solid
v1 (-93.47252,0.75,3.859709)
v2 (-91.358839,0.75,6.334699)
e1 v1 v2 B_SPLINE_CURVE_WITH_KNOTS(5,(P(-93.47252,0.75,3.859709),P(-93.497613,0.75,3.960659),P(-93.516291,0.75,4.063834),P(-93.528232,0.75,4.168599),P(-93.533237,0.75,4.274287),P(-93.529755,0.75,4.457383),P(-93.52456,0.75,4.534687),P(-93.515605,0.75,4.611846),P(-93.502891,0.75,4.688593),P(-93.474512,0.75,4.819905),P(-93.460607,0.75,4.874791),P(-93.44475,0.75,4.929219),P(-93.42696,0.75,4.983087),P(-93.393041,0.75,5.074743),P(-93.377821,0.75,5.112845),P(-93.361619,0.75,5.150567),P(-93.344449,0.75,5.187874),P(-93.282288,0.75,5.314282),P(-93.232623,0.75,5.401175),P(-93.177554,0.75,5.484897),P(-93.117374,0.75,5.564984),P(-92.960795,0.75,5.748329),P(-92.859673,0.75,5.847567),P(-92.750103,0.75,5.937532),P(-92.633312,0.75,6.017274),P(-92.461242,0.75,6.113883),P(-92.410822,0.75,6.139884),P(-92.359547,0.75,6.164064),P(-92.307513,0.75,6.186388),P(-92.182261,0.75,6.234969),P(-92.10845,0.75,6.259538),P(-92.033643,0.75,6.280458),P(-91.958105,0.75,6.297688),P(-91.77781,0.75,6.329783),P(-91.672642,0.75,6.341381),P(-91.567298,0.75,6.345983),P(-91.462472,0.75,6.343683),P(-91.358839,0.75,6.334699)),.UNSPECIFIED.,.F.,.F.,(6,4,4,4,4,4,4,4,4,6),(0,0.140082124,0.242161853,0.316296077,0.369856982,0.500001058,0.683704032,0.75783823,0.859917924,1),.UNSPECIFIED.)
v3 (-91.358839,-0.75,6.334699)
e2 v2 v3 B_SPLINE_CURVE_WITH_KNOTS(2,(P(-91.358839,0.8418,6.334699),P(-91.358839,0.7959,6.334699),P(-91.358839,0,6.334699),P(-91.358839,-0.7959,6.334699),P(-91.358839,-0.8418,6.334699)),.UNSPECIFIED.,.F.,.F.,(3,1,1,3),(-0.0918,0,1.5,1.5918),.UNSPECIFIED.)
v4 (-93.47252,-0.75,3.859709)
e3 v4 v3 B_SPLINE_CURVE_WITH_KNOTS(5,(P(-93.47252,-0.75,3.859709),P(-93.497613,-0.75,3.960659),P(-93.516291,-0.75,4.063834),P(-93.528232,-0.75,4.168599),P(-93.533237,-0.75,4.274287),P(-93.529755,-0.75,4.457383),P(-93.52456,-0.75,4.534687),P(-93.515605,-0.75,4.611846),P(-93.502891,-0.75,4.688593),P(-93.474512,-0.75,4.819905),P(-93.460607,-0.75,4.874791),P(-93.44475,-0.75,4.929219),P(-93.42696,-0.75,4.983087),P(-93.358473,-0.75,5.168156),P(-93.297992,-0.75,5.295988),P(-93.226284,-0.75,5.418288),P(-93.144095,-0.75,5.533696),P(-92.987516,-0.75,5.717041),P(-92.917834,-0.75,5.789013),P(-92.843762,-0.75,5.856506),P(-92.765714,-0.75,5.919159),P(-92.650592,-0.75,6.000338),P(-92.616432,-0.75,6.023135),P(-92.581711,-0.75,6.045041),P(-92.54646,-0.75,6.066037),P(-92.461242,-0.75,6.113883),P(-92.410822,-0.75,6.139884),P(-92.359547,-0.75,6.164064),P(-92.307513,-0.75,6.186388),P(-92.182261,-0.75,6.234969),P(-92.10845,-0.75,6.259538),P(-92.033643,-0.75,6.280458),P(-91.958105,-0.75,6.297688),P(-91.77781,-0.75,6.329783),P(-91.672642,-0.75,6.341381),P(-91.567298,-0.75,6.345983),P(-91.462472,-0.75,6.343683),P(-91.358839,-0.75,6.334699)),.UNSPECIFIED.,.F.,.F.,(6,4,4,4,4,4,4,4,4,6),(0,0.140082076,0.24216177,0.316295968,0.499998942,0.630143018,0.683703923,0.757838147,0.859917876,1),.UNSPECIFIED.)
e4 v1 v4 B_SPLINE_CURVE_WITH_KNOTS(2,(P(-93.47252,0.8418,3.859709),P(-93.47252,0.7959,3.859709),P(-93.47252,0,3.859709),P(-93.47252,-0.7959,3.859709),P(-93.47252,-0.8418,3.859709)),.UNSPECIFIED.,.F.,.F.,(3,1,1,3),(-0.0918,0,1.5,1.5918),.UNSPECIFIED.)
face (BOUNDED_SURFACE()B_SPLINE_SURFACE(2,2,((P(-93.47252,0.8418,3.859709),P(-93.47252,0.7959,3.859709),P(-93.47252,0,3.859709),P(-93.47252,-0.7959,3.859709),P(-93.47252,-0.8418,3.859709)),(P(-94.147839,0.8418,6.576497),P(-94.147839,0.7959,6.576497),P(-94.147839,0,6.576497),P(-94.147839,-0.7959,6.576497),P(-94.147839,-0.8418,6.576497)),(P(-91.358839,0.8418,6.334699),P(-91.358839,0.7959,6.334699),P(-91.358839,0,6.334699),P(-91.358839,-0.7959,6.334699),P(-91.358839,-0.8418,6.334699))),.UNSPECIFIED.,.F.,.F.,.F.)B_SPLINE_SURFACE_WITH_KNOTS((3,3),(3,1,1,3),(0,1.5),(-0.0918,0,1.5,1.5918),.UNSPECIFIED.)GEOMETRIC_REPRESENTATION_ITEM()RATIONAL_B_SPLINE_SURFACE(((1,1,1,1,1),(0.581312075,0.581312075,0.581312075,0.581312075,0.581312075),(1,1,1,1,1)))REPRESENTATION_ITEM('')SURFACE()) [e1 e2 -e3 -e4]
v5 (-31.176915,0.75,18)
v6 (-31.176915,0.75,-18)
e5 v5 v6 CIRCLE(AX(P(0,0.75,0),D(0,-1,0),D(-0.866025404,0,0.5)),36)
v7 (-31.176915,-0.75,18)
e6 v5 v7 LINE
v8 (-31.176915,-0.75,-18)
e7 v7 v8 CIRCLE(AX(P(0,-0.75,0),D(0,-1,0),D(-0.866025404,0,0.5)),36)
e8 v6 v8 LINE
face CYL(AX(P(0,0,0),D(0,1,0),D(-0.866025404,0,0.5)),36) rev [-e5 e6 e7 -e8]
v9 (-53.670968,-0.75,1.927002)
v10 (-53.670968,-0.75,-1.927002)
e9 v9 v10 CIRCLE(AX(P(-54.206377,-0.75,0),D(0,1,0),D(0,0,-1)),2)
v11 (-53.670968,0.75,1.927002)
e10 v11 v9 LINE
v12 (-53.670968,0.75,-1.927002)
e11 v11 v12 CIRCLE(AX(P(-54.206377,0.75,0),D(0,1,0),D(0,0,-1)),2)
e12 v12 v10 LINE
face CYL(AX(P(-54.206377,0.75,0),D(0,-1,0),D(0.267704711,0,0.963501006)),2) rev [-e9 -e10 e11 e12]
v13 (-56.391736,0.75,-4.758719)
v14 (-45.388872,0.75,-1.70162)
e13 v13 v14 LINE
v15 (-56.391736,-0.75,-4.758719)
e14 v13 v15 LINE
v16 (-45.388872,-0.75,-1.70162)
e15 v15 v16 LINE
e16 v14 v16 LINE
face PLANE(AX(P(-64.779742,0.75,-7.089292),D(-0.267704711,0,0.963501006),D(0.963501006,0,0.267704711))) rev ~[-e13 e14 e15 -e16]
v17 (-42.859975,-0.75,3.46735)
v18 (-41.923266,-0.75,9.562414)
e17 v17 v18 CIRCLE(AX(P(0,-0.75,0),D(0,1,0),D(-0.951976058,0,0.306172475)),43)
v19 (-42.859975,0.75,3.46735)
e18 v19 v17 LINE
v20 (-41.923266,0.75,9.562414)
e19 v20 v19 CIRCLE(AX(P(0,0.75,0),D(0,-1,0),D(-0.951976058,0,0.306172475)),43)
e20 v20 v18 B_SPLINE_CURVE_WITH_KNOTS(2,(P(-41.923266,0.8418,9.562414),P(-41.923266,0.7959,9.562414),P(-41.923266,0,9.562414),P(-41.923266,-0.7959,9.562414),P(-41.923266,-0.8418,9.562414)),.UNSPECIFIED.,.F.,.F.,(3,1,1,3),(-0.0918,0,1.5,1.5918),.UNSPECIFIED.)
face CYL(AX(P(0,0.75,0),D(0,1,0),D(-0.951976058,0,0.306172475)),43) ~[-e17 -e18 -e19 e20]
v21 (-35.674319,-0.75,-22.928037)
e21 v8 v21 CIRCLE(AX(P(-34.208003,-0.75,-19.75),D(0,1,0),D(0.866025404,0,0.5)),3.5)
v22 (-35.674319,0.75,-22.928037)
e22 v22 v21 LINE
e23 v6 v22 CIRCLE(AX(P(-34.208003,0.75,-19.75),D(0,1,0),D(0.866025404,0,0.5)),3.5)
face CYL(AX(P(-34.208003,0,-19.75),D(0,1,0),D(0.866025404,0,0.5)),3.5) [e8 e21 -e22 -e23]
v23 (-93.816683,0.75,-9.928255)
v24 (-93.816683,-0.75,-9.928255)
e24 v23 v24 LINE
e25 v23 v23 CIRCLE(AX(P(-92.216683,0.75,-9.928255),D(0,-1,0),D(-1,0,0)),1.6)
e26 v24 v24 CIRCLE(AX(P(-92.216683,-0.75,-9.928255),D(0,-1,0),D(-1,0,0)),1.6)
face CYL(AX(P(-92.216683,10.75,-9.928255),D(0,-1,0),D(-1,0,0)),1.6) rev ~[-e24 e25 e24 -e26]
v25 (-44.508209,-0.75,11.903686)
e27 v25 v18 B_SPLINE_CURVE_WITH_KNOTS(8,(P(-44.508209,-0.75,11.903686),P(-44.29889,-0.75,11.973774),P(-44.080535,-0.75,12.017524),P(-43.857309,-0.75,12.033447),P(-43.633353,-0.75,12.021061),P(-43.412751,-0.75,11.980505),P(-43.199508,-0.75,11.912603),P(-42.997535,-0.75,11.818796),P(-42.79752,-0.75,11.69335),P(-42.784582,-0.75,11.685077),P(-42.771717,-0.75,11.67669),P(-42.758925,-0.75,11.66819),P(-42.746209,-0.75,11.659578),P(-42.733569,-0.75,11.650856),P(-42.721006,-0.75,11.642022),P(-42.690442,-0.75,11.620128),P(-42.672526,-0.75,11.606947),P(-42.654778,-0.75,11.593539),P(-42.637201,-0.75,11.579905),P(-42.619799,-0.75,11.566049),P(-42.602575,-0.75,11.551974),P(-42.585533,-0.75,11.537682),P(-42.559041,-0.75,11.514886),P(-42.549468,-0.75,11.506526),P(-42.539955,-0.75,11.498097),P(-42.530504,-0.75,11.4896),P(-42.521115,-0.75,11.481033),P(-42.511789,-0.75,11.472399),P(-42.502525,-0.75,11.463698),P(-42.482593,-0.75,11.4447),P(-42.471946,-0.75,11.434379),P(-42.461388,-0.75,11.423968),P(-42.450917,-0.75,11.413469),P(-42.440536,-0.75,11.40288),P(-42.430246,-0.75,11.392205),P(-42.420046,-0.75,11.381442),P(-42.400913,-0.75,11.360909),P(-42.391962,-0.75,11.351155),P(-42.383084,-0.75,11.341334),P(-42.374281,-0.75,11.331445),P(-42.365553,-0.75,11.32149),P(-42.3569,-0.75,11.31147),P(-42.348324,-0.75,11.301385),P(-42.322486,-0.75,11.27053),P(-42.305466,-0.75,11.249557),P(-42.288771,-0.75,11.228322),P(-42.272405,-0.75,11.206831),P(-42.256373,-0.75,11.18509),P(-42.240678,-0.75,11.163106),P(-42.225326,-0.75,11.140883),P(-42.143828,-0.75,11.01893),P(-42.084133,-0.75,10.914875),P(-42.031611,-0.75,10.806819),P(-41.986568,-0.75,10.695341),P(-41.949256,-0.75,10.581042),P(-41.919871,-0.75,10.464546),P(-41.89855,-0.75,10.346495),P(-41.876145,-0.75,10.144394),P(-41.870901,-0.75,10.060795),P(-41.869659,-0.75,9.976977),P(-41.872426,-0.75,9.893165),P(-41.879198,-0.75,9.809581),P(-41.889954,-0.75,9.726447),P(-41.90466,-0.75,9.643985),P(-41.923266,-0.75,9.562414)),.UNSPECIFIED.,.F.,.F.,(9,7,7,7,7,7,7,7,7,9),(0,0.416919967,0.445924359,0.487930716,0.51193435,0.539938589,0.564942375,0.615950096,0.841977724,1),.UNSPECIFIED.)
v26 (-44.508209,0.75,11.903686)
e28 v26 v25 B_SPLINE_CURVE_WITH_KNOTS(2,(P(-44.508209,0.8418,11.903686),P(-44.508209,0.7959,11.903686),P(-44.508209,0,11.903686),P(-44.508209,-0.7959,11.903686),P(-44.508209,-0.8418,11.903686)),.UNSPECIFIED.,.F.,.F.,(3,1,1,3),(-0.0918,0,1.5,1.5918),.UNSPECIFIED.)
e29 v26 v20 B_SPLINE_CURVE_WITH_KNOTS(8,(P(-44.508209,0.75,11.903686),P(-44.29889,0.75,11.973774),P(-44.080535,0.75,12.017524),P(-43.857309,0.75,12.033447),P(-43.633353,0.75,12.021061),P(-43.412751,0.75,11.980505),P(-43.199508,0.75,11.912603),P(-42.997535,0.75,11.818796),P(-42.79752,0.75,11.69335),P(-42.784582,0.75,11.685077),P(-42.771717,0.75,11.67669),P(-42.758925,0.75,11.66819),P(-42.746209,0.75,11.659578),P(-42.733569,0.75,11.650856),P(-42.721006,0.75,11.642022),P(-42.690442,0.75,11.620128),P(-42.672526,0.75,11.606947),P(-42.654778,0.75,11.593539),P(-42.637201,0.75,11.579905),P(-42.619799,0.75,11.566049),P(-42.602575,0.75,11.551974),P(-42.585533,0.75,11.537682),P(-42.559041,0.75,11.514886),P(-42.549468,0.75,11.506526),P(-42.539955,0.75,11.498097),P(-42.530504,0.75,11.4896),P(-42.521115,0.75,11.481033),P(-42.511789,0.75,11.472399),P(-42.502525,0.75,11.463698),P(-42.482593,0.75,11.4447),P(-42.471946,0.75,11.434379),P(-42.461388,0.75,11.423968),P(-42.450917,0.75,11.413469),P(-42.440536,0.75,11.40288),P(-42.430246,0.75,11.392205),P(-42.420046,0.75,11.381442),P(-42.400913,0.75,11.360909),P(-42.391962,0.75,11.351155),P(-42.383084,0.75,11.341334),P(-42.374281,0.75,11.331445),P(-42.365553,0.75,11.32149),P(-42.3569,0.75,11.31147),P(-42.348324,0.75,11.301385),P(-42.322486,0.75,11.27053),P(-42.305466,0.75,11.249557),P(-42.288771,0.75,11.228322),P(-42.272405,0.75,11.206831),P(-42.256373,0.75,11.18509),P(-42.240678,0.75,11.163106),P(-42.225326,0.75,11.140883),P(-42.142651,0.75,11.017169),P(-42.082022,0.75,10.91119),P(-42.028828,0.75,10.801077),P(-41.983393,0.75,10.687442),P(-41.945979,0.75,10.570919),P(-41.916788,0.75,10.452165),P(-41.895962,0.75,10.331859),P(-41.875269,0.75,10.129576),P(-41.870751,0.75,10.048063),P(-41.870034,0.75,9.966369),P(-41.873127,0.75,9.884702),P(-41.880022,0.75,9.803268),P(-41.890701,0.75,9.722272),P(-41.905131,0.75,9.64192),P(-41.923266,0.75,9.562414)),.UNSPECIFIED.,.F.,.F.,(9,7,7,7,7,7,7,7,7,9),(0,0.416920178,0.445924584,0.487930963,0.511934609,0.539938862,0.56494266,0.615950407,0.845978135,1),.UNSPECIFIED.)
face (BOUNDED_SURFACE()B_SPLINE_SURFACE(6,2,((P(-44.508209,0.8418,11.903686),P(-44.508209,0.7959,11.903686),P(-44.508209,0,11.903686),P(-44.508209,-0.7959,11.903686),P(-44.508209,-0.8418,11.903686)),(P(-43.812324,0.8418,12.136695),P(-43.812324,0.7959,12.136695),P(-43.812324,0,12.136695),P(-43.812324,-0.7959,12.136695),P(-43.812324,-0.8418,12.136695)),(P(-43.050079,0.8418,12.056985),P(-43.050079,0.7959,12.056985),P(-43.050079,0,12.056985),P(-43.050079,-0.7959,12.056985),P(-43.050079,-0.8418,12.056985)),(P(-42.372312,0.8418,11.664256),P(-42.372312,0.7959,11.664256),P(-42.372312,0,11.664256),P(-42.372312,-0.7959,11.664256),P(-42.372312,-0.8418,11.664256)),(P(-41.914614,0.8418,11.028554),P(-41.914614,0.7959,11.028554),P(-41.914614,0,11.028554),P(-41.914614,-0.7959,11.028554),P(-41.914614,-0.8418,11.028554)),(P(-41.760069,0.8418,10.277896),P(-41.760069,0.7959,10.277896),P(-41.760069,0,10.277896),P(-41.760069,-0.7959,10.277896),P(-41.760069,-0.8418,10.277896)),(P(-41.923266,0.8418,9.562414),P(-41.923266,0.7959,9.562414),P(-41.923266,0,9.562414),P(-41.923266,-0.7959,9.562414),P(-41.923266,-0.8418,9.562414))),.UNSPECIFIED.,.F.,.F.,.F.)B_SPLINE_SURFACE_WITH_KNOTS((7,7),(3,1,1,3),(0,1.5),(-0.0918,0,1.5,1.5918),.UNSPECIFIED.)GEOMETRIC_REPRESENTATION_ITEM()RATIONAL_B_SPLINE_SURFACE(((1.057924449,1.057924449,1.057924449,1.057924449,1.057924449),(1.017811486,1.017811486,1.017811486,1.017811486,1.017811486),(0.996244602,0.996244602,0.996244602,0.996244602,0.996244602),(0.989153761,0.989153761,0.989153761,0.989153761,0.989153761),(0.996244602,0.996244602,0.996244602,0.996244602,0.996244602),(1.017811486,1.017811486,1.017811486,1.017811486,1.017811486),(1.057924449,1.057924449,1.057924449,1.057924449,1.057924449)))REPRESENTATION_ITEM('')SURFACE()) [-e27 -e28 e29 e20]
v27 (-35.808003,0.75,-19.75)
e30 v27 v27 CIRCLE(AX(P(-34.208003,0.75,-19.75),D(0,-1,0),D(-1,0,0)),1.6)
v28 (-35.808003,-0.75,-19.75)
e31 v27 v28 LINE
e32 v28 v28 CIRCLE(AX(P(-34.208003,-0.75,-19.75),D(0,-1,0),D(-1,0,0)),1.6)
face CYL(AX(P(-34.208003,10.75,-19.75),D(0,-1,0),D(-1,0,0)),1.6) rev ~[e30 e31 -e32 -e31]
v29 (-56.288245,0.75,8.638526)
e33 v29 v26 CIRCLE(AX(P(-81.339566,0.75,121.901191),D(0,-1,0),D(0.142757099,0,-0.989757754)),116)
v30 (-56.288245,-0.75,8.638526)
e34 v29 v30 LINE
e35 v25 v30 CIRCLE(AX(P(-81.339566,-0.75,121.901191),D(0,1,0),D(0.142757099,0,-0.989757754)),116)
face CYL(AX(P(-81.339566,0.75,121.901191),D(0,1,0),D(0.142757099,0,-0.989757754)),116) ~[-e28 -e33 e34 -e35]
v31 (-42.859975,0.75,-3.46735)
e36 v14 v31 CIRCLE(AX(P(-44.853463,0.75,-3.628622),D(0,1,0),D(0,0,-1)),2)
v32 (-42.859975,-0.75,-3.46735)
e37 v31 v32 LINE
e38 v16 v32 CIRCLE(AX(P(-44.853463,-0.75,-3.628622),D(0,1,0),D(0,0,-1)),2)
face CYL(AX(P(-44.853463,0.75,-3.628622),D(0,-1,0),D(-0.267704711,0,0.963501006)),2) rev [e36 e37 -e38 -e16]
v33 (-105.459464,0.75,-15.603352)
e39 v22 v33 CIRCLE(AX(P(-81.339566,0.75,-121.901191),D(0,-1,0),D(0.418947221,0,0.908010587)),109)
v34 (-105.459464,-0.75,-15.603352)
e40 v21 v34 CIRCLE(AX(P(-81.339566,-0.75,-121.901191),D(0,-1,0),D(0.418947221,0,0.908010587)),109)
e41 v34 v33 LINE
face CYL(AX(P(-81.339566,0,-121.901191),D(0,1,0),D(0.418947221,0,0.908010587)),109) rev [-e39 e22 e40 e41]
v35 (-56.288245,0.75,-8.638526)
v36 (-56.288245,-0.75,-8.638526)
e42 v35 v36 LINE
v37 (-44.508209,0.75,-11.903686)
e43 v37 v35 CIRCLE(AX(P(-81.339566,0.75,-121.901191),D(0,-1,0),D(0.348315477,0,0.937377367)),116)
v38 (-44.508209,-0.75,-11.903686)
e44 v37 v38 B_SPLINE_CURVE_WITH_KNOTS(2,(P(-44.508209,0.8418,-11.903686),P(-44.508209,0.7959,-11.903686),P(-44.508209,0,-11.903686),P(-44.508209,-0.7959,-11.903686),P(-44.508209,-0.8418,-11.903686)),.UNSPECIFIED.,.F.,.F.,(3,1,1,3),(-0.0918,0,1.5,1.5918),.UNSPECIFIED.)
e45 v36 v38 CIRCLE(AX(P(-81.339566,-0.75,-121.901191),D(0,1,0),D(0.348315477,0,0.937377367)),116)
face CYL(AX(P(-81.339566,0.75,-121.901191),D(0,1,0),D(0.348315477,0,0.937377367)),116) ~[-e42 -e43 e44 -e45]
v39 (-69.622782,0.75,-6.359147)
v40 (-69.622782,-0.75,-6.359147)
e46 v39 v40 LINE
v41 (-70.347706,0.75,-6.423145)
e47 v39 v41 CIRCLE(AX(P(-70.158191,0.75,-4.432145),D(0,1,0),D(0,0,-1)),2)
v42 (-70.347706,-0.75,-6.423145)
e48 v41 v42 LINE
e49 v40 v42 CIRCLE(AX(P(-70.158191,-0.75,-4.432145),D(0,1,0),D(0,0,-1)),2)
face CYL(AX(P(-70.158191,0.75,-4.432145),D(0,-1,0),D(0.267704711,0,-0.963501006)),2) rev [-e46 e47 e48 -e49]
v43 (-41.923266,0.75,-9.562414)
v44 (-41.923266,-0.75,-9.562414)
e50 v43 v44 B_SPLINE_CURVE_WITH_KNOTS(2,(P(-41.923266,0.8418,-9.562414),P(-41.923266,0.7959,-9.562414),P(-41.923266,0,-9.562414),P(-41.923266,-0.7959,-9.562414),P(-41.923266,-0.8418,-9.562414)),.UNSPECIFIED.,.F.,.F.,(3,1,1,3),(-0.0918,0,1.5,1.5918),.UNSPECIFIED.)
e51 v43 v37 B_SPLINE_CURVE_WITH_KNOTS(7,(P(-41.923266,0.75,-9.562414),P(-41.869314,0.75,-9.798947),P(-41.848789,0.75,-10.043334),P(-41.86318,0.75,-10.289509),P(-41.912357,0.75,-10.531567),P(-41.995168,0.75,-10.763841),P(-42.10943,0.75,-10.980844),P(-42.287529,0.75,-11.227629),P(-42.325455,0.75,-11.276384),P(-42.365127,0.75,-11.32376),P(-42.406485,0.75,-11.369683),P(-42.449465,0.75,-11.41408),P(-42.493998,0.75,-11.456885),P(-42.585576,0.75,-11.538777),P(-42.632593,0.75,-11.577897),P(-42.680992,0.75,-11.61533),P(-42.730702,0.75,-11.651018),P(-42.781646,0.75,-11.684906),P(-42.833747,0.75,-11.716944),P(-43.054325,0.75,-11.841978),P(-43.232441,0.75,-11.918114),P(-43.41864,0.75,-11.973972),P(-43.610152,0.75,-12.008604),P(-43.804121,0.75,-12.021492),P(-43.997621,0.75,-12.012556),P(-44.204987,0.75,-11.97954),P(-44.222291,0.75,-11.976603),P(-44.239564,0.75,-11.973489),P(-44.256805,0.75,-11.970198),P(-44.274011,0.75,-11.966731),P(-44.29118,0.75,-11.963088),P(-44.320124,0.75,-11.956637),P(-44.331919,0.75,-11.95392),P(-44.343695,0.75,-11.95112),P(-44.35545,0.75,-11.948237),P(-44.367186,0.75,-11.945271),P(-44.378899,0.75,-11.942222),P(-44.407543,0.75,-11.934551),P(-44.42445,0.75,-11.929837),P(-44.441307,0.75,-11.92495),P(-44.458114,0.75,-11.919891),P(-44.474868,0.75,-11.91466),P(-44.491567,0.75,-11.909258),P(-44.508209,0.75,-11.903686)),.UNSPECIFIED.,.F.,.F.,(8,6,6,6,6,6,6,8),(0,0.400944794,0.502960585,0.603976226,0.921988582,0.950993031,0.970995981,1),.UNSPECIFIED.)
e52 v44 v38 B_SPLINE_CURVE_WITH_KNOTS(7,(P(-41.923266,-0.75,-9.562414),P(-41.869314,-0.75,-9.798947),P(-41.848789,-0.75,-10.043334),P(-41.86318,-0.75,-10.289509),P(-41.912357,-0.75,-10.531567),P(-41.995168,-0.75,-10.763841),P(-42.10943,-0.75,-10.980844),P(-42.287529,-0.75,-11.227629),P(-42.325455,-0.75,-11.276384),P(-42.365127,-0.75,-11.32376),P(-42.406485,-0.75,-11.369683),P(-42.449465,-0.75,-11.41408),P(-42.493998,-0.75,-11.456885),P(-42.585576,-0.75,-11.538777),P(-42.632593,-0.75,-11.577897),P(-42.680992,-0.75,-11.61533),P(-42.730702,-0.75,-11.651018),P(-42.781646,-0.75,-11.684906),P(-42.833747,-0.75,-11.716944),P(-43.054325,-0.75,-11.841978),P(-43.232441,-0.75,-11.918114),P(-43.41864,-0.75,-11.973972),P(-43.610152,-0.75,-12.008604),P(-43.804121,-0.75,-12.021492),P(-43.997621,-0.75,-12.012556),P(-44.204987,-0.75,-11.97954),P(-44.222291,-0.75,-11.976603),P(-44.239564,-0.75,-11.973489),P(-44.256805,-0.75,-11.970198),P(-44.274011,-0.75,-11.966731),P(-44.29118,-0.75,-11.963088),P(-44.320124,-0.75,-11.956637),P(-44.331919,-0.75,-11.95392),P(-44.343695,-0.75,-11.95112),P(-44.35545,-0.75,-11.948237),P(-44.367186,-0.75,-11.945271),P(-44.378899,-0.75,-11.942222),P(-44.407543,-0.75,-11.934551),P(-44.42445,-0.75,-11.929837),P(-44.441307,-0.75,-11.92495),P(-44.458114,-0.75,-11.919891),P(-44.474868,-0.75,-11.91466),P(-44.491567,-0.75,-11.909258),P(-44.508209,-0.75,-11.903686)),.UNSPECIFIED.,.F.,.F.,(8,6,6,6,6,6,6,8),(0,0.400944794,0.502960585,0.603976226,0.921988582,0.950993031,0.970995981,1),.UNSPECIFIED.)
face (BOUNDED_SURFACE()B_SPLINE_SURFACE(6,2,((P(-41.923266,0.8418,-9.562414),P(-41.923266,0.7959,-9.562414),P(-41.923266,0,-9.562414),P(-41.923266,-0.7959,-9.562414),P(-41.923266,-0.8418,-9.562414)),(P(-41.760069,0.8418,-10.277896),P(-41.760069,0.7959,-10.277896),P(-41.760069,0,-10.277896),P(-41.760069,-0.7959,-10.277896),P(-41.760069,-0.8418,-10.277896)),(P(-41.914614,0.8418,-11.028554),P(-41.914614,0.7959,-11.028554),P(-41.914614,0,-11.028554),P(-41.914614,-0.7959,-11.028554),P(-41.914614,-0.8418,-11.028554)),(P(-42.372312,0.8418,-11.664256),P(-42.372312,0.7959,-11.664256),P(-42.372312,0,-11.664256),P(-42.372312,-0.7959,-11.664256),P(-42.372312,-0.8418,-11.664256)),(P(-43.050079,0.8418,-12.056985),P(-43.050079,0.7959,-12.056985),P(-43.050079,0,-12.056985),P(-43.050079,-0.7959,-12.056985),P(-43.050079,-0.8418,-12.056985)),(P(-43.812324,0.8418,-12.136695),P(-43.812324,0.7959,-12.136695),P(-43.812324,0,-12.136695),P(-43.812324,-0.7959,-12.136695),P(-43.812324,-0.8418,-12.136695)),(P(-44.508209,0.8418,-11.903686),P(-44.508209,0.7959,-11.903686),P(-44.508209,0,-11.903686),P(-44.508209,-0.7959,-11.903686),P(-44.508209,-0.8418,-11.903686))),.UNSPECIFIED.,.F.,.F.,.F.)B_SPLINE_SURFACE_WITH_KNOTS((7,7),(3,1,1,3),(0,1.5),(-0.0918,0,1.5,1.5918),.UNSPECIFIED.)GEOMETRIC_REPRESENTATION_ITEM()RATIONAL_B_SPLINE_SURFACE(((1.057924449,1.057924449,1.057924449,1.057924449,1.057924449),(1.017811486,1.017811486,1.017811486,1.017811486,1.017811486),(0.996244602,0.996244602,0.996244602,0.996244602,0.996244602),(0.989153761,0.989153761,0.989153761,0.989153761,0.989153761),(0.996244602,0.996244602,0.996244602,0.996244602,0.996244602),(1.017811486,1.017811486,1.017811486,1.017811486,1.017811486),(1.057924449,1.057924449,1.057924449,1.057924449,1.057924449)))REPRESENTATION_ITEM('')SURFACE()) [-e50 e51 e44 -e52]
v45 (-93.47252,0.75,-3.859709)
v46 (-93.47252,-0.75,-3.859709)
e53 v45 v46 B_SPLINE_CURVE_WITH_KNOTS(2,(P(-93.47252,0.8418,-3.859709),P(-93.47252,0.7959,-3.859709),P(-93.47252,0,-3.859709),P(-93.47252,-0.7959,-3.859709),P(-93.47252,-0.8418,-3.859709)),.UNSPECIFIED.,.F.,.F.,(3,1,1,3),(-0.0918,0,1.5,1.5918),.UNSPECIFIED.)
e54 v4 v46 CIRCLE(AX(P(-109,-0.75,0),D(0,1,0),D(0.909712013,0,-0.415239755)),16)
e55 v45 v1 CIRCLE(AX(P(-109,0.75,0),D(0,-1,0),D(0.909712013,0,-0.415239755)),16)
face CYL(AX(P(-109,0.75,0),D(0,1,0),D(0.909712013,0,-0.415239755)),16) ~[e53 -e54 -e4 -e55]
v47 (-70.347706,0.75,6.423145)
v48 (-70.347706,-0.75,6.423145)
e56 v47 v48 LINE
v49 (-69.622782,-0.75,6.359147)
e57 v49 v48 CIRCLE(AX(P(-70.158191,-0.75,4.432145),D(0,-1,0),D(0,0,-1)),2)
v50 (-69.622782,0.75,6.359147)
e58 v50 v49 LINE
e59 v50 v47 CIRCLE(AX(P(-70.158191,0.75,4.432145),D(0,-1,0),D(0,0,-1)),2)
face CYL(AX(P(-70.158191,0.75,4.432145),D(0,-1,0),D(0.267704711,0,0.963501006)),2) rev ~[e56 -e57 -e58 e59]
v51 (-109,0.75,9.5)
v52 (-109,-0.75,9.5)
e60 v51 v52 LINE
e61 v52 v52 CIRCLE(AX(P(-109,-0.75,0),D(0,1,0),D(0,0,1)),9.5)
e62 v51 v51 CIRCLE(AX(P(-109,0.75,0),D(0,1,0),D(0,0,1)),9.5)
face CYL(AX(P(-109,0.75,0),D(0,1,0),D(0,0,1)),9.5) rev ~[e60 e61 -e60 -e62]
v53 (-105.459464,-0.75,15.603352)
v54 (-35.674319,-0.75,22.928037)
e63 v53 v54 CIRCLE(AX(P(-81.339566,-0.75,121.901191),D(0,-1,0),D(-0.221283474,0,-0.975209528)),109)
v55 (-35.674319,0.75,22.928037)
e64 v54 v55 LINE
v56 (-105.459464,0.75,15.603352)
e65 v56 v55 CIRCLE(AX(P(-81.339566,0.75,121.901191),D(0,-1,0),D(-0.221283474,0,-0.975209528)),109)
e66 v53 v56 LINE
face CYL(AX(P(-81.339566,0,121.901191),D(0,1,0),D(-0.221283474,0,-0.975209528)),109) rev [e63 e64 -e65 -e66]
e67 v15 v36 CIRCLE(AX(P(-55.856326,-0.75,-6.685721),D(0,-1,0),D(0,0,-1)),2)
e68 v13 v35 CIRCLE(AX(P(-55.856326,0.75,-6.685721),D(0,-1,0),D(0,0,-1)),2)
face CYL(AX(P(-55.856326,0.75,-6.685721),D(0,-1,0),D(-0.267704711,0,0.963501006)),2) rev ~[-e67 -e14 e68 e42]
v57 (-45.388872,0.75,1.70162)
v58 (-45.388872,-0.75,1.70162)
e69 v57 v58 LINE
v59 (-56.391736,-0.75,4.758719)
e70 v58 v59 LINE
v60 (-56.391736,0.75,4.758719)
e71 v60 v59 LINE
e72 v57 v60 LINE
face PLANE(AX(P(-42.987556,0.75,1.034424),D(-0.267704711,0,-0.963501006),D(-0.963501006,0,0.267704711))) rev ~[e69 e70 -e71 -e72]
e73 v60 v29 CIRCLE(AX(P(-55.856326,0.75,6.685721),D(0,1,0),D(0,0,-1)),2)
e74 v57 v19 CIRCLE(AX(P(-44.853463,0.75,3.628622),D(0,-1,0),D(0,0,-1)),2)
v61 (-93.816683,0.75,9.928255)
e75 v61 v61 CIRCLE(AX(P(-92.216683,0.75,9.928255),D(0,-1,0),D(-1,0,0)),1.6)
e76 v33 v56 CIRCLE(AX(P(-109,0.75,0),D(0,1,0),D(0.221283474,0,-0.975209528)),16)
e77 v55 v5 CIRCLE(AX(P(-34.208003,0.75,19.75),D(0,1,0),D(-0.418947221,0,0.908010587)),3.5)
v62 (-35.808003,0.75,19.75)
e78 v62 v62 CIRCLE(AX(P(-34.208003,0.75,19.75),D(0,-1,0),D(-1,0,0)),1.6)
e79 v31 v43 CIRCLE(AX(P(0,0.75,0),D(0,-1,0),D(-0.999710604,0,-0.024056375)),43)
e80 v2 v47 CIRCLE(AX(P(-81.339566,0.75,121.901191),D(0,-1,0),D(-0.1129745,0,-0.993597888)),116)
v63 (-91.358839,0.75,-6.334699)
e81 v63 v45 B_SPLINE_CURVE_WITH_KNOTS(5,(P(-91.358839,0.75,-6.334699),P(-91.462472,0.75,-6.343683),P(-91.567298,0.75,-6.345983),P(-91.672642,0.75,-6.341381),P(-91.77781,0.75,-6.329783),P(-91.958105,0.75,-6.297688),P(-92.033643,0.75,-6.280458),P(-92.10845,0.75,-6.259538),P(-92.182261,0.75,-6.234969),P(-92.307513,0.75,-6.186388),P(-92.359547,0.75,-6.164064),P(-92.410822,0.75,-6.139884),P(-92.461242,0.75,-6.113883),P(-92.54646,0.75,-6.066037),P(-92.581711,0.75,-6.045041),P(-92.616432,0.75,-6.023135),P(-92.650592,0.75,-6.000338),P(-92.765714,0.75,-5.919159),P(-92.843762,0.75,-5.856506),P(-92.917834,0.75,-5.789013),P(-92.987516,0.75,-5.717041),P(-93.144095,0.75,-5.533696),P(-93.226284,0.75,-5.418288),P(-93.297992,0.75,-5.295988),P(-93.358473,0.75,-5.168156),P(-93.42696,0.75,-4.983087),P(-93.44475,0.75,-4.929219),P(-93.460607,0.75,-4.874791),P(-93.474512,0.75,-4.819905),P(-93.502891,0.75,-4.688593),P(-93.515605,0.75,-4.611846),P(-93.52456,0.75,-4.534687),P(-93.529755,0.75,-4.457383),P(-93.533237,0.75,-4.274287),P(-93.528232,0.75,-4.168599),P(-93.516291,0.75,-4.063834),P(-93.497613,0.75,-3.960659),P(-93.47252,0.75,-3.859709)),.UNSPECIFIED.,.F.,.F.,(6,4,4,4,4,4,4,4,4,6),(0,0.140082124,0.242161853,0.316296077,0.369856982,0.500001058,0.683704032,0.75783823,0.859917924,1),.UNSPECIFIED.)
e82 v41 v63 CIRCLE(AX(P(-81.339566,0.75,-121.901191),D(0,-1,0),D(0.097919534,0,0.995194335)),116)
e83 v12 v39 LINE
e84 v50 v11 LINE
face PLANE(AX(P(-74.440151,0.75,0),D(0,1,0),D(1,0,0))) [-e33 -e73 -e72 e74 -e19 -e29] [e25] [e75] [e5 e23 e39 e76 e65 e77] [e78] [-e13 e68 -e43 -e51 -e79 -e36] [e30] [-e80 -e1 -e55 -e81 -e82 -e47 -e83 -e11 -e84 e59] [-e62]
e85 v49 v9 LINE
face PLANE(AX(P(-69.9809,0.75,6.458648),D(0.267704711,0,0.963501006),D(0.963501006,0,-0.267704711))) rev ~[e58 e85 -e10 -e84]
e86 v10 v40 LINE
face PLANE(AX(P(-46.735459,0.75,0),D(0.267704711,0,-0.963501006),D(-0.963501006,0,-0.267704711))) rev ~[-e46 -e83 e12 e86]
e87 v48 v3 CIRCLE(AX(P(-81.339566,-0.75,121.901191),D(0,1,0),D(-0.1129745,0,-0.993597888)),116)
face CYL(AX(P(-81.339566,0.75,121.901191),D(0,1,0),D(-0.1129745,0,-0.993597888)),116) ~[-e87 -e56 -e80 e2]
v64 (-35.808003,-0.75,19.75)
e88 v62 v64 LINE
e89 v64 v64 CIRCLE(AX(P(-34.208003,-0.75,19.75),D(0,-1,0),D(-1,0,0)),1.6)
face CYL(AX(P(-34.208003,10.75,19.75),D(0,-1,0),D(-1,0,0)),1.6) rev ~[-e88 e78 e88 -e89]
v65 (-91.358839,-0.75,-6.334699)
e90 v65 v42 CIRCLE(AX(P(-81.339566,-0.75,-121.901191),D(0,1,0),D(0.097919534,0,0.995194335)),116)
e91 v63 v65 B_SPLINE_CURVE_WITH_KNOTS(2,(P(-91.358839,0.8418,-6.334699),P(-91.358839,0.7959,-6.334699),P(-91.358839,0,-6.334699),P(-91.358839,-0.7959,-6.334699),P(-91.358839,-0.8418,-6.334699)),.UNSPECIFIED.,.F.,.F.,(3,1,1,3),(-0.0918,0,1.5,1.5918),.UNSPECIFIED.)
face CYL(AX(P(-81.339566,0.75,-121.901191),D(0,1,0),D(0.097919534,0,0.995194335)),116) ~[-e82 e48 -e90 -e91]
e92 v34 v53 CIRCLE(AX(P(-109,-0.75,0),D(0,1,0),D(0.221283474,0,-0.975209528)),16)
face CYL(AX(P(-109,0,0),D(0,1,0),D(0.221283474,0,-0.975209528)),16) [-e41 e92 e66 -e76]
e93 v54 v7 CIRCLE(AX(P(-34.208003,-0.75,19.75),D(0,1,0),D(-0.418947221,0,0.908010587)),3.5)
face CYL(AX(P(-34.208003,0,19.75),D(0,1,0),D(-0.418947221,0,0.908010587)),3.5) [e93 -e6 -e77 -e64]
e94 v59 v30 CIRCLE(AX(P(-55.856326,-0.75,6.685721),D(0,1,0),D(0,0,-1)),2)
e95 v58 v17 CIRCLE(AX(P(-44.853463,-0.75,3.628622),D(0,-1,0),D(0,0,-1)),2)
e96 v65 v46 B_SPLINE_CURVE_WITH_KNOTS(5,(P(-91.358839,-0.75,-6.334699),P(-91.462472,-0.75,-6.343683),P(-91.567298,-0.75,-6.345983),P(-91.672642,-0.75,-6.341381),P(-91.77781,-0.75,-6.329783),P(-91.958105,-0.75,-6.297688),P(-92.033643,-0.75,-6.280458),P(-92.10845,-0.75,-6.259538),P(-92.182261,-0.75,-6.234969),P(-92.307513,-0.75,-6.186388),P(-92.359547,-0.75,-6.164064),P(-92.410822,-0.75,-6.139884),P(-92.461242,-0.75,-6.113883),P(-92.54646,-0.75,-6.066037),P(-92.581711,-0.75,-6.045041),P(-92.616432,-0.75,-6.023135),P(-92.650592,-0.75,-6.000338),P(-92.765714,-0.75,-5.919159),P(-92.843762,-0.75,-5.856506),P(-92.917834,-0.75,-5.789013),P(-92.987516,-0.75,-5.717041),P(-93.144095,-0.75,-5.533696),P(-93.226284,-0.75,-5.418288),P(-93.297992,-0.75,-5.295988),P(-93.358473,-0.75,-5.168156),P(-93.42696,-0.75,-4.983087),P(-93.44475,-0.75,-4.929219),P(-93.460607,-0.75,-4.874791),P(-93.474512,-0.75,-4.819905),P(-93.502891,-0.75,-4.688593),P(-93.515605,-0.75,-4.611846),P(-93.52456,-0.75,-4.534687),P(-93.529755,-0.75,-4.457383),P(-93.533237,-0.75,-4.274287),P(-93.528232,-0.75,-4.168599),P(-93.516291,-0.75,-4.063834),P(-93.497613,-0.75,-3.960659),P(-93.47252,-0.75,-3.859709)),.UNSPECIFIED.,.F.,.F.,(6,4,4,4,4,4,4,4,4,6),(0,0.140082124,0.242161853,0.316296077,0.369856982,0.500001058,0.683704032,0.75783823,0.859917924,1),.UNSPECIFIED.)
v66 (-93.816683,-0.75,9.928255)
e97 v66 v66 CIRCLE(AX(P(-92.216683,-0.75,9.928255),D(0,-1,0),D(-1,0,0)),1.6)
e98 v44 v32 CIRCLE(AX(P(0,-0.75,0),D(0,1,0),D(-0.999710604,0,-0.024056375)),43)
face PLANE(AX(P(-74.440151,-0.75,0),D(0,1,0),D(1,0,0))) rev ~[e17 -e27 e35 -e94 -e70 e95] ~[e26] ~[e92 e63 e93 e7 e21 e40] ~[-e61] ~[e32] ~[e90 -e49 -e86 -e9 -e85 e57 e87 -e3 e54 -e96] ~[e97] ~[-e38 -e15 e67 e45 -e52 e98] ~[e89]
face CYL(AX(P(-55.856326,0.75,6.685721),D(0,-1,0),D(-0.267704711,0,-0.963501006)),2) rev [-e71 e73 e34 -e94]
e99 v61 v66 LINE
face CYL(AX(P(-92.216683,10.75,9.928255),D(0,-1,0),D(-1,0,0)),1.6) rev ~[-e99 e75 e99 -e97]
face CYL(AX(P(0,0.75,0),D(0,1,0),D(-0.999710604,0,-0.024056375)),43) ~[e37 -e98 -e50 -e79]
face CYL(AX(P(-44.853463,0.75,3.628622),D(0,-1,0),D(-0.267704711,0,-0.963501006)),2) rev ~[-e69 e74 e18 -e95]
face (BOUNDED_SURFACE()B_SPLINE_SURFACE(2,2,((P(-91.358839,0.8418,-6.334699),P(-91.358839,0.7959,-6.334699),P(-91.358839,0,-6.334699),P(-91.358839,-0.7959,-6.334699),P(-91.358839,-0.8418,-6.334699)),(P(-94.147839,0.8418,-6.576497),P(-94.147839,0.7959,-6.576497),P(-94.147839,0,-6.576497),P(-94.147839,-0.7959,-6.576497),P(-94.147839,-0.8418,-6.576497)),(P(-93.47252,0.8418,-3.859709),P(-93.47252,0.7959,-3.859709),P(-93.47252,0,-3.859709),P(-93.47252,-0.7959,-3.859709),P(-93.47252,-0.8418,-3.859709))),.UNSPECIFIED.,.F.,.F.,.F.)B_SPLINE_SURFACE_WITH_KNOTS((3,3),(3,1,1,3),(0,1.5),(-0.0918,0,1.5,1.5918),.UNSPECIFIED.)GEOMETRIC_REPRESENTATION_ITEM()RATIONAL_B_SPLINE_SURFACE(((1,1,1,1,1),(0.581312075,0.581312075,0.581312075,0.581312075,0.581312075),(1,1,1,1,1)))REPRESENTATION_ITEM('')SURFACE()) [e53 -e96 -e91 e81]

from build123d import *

# Parameters (mm, degrees)
SKETCH1_R                      = 3.5
BOSS_EXTRUDE1_DEPTH            = 0.75
F_3_2_3_2_DIAMETER_HOLE1_D     = 3.2
F_3_2_3_2_DIAMETER_HOLE1_DEPTH = 10
F_3_2_3_2_DIAMETER_HOLE1_TIP   = 0.96137699
CUT_EXTRUDE1_DEPTH             = 128.152713302
FILLET1_R                      = 2
SKETCH7_R                      = 9.5
CUT_EXTRUDE2_DEPTH             = 128.15271342


with BuildPart() as part:
    # Sketch1 → Boss-Extrude1 (new, symmetric)
    with BuildSketch(Plane(origin=(0, 0, 0), x_dir=(1, 0, 0), z_dir=(0, 1, 0))):
        with BuildLine():
            ThreePointArc((-37.239092363, -21.5), (-43, 0), (-37.239092363, 21.5))
            ThreePointArc((-37.239092363, 21.5), (-36.567343094, 22.335249783), (-35.674318722, 22.928037055))
            ThreePointArc((-35.674318722, 22.928037055), (-69.961373448, 13.496685886), (-105.45946442, 15.603352454))
            ThreePointArc((-105.45946442, 15.603352454), (-125, 0), (-105.45946442, -15.603352454))
            ThreePointArc((-105.45946442, -15.603352454), (-69.961373448, -13.496685886), (-35.674318722, -22.928037055))
            ThreePointArc((-35.674318722, -22.928037055), (-36.567343094, -22.335249783), (-37.239092363, -21.5))
        make_face()
        with BuildLine():
            ThreePointArc((-31.176914536, 18), (-35.958003449, 16.718911087), (-37.239092363, 21.5))
            ThreePointArc((-37.239092363, 21.5), (-43, 0), (-37.239092363, -21.5))
            ThreePointArc((-37.239092363, -21.5), (-35.958003449, -16.718911087), (-31.176914536, -18))
            ThreePointArc((-31.176914536, -18), (-36, 0), (-31.176914536, 18))
        make_face()
        with Locations((-34.208003449, -19.75)):
            Circle(SKETCH1_R)
        with Locations((-34.208003449, 19.75)):
            Circle(SKETCH1_R)
    extrude(amount=BOSS_EXTRUDE1_DEPTH, both=True)

    # Ø3.2 (3.2) Diameter Hole1
    with Locations(Plane(origin=(0, 0.75, 0), x_dir=(1, 0, 0), z_dir=(0, 1, 0))):
        with Locations((-34.208003449, 19.75), (-34.208003449, -19.75), (-92.21668251, 9.928255337), (-92.21668251, -9.928255337)):
            Hole(F_3_2_3_2_DIAMETER_HOLE1_D / 2, depth=F_3_2_3_2_DIAMETER_HOLE1_DEPTH)
            with Locations((0, 0, -(F_3_2_3_2_DIAMETER_HOLE1_DEPTH + F_3_2_3_2_DIAMETER_HOLE1_TIP / 2))):  # 118° drill point
                Cone(0, F_3_2_3_2_DIAMETER_HOLE1_D / 2, F_3_2_3_2_DIAMETER_HOLE1_TIP, mode=Mode.SUBTRACT)

    # Sketch6 → Cut-Extrude1 (cut, through all)
    with BuildSketch(Plane(origin=(0, 0.75, 0), x_dir=(1, 0, 0), z_dir=(0, 1, 0))):
        with BuildLine():
            Line((-69.980899838, -6.458648161), (-46.735459102, 0))
            Line((-46.735459102, 0), (-69.980899838, 6.458648161))
            ThreePointArc((-69.980899838, 6.458648161), (-82.217649484, 5.904514504), (-94.444607799, 6.643836082))
            ThreePointArc((-94.444607799, 6.643836082), (-93, 0), (-94.444607799, -6.643836082))
            ThreePointArc((-94.444607799, -6.643836082), (-82.217649484, -5.904514504), (-69.980899838, -6.458648161))
        make_face()
        with BuildLine():
            Line((-64.779742297, 7.089291637), (-42.987555952, 1.03442411))
            ThreePointArc((-42.987555952, 1.03442411), (-42.397380289, 7.173712054), (-40.934970503, 13.165416435))
            ThreePointArc((-40.934970503, 13.165416435), (-52.695786799, 9.493300195), (-64.779742297, 7.089291637))
        make_face()
        with BuildLine():
            ThreePointArc((-40.934970503, -13.165416435), (-42.397380289, -7.173712054), (-42.987555952, -1.03442411))
            Line((-42.987555952, -1.03442411), (-64.779742297, -7.089291637))
            ThreePointArc((-64.779742297, -7.089291637), (-52.695786799, -9.493300195), (-40.934970503, -13.165416435))
        make_face()
    extrude(amount=-CUT_EXTRUDE1_DEPTH, mode=Mode.SUBTRACT)

    # Fillet1
    fillet1_edges = [part.edges().sort_by_distance(p)[0] for p in [
        (-94.444607799, 0, 6.643836082),
        (-94.444607799, 0, -6.643836082),
        (-69.980899838, 0, -6.458648161),
        (-46.735459102, 0, 0),
        (-69.980899838, 0, 6.458648161),
        (-40.934970503, 0, -13.165416435),
        (-42.987555952, 0, -1.03442411),
        (-64.779742297, 0, -7.089291637),
        (-42.987555952, 0, 1.03442411),
        (-40.934970503, 0, 13.165416435),
        (-64.779742297, 0, 7.089291637),
    ]]
    fillet(fillet1_edges, radius=FILLET1_R)

    # Sketch7 → Cut-Extrude2 (cut, through all)
    with BuildSketch(Plane(origin=(0, 0.75, 0), x_dir=(1, 0, 0), z_dir=(0, 1, 0))):
        with Locations(Location((-109, 0, 0), (0, 0, 270))):
            Circle(SKETCH7_R)
    extrude(amount=-CUT_EXTRUDE2_DEPTH, mode=Mode.SUBTRACT)


solid = part.part
